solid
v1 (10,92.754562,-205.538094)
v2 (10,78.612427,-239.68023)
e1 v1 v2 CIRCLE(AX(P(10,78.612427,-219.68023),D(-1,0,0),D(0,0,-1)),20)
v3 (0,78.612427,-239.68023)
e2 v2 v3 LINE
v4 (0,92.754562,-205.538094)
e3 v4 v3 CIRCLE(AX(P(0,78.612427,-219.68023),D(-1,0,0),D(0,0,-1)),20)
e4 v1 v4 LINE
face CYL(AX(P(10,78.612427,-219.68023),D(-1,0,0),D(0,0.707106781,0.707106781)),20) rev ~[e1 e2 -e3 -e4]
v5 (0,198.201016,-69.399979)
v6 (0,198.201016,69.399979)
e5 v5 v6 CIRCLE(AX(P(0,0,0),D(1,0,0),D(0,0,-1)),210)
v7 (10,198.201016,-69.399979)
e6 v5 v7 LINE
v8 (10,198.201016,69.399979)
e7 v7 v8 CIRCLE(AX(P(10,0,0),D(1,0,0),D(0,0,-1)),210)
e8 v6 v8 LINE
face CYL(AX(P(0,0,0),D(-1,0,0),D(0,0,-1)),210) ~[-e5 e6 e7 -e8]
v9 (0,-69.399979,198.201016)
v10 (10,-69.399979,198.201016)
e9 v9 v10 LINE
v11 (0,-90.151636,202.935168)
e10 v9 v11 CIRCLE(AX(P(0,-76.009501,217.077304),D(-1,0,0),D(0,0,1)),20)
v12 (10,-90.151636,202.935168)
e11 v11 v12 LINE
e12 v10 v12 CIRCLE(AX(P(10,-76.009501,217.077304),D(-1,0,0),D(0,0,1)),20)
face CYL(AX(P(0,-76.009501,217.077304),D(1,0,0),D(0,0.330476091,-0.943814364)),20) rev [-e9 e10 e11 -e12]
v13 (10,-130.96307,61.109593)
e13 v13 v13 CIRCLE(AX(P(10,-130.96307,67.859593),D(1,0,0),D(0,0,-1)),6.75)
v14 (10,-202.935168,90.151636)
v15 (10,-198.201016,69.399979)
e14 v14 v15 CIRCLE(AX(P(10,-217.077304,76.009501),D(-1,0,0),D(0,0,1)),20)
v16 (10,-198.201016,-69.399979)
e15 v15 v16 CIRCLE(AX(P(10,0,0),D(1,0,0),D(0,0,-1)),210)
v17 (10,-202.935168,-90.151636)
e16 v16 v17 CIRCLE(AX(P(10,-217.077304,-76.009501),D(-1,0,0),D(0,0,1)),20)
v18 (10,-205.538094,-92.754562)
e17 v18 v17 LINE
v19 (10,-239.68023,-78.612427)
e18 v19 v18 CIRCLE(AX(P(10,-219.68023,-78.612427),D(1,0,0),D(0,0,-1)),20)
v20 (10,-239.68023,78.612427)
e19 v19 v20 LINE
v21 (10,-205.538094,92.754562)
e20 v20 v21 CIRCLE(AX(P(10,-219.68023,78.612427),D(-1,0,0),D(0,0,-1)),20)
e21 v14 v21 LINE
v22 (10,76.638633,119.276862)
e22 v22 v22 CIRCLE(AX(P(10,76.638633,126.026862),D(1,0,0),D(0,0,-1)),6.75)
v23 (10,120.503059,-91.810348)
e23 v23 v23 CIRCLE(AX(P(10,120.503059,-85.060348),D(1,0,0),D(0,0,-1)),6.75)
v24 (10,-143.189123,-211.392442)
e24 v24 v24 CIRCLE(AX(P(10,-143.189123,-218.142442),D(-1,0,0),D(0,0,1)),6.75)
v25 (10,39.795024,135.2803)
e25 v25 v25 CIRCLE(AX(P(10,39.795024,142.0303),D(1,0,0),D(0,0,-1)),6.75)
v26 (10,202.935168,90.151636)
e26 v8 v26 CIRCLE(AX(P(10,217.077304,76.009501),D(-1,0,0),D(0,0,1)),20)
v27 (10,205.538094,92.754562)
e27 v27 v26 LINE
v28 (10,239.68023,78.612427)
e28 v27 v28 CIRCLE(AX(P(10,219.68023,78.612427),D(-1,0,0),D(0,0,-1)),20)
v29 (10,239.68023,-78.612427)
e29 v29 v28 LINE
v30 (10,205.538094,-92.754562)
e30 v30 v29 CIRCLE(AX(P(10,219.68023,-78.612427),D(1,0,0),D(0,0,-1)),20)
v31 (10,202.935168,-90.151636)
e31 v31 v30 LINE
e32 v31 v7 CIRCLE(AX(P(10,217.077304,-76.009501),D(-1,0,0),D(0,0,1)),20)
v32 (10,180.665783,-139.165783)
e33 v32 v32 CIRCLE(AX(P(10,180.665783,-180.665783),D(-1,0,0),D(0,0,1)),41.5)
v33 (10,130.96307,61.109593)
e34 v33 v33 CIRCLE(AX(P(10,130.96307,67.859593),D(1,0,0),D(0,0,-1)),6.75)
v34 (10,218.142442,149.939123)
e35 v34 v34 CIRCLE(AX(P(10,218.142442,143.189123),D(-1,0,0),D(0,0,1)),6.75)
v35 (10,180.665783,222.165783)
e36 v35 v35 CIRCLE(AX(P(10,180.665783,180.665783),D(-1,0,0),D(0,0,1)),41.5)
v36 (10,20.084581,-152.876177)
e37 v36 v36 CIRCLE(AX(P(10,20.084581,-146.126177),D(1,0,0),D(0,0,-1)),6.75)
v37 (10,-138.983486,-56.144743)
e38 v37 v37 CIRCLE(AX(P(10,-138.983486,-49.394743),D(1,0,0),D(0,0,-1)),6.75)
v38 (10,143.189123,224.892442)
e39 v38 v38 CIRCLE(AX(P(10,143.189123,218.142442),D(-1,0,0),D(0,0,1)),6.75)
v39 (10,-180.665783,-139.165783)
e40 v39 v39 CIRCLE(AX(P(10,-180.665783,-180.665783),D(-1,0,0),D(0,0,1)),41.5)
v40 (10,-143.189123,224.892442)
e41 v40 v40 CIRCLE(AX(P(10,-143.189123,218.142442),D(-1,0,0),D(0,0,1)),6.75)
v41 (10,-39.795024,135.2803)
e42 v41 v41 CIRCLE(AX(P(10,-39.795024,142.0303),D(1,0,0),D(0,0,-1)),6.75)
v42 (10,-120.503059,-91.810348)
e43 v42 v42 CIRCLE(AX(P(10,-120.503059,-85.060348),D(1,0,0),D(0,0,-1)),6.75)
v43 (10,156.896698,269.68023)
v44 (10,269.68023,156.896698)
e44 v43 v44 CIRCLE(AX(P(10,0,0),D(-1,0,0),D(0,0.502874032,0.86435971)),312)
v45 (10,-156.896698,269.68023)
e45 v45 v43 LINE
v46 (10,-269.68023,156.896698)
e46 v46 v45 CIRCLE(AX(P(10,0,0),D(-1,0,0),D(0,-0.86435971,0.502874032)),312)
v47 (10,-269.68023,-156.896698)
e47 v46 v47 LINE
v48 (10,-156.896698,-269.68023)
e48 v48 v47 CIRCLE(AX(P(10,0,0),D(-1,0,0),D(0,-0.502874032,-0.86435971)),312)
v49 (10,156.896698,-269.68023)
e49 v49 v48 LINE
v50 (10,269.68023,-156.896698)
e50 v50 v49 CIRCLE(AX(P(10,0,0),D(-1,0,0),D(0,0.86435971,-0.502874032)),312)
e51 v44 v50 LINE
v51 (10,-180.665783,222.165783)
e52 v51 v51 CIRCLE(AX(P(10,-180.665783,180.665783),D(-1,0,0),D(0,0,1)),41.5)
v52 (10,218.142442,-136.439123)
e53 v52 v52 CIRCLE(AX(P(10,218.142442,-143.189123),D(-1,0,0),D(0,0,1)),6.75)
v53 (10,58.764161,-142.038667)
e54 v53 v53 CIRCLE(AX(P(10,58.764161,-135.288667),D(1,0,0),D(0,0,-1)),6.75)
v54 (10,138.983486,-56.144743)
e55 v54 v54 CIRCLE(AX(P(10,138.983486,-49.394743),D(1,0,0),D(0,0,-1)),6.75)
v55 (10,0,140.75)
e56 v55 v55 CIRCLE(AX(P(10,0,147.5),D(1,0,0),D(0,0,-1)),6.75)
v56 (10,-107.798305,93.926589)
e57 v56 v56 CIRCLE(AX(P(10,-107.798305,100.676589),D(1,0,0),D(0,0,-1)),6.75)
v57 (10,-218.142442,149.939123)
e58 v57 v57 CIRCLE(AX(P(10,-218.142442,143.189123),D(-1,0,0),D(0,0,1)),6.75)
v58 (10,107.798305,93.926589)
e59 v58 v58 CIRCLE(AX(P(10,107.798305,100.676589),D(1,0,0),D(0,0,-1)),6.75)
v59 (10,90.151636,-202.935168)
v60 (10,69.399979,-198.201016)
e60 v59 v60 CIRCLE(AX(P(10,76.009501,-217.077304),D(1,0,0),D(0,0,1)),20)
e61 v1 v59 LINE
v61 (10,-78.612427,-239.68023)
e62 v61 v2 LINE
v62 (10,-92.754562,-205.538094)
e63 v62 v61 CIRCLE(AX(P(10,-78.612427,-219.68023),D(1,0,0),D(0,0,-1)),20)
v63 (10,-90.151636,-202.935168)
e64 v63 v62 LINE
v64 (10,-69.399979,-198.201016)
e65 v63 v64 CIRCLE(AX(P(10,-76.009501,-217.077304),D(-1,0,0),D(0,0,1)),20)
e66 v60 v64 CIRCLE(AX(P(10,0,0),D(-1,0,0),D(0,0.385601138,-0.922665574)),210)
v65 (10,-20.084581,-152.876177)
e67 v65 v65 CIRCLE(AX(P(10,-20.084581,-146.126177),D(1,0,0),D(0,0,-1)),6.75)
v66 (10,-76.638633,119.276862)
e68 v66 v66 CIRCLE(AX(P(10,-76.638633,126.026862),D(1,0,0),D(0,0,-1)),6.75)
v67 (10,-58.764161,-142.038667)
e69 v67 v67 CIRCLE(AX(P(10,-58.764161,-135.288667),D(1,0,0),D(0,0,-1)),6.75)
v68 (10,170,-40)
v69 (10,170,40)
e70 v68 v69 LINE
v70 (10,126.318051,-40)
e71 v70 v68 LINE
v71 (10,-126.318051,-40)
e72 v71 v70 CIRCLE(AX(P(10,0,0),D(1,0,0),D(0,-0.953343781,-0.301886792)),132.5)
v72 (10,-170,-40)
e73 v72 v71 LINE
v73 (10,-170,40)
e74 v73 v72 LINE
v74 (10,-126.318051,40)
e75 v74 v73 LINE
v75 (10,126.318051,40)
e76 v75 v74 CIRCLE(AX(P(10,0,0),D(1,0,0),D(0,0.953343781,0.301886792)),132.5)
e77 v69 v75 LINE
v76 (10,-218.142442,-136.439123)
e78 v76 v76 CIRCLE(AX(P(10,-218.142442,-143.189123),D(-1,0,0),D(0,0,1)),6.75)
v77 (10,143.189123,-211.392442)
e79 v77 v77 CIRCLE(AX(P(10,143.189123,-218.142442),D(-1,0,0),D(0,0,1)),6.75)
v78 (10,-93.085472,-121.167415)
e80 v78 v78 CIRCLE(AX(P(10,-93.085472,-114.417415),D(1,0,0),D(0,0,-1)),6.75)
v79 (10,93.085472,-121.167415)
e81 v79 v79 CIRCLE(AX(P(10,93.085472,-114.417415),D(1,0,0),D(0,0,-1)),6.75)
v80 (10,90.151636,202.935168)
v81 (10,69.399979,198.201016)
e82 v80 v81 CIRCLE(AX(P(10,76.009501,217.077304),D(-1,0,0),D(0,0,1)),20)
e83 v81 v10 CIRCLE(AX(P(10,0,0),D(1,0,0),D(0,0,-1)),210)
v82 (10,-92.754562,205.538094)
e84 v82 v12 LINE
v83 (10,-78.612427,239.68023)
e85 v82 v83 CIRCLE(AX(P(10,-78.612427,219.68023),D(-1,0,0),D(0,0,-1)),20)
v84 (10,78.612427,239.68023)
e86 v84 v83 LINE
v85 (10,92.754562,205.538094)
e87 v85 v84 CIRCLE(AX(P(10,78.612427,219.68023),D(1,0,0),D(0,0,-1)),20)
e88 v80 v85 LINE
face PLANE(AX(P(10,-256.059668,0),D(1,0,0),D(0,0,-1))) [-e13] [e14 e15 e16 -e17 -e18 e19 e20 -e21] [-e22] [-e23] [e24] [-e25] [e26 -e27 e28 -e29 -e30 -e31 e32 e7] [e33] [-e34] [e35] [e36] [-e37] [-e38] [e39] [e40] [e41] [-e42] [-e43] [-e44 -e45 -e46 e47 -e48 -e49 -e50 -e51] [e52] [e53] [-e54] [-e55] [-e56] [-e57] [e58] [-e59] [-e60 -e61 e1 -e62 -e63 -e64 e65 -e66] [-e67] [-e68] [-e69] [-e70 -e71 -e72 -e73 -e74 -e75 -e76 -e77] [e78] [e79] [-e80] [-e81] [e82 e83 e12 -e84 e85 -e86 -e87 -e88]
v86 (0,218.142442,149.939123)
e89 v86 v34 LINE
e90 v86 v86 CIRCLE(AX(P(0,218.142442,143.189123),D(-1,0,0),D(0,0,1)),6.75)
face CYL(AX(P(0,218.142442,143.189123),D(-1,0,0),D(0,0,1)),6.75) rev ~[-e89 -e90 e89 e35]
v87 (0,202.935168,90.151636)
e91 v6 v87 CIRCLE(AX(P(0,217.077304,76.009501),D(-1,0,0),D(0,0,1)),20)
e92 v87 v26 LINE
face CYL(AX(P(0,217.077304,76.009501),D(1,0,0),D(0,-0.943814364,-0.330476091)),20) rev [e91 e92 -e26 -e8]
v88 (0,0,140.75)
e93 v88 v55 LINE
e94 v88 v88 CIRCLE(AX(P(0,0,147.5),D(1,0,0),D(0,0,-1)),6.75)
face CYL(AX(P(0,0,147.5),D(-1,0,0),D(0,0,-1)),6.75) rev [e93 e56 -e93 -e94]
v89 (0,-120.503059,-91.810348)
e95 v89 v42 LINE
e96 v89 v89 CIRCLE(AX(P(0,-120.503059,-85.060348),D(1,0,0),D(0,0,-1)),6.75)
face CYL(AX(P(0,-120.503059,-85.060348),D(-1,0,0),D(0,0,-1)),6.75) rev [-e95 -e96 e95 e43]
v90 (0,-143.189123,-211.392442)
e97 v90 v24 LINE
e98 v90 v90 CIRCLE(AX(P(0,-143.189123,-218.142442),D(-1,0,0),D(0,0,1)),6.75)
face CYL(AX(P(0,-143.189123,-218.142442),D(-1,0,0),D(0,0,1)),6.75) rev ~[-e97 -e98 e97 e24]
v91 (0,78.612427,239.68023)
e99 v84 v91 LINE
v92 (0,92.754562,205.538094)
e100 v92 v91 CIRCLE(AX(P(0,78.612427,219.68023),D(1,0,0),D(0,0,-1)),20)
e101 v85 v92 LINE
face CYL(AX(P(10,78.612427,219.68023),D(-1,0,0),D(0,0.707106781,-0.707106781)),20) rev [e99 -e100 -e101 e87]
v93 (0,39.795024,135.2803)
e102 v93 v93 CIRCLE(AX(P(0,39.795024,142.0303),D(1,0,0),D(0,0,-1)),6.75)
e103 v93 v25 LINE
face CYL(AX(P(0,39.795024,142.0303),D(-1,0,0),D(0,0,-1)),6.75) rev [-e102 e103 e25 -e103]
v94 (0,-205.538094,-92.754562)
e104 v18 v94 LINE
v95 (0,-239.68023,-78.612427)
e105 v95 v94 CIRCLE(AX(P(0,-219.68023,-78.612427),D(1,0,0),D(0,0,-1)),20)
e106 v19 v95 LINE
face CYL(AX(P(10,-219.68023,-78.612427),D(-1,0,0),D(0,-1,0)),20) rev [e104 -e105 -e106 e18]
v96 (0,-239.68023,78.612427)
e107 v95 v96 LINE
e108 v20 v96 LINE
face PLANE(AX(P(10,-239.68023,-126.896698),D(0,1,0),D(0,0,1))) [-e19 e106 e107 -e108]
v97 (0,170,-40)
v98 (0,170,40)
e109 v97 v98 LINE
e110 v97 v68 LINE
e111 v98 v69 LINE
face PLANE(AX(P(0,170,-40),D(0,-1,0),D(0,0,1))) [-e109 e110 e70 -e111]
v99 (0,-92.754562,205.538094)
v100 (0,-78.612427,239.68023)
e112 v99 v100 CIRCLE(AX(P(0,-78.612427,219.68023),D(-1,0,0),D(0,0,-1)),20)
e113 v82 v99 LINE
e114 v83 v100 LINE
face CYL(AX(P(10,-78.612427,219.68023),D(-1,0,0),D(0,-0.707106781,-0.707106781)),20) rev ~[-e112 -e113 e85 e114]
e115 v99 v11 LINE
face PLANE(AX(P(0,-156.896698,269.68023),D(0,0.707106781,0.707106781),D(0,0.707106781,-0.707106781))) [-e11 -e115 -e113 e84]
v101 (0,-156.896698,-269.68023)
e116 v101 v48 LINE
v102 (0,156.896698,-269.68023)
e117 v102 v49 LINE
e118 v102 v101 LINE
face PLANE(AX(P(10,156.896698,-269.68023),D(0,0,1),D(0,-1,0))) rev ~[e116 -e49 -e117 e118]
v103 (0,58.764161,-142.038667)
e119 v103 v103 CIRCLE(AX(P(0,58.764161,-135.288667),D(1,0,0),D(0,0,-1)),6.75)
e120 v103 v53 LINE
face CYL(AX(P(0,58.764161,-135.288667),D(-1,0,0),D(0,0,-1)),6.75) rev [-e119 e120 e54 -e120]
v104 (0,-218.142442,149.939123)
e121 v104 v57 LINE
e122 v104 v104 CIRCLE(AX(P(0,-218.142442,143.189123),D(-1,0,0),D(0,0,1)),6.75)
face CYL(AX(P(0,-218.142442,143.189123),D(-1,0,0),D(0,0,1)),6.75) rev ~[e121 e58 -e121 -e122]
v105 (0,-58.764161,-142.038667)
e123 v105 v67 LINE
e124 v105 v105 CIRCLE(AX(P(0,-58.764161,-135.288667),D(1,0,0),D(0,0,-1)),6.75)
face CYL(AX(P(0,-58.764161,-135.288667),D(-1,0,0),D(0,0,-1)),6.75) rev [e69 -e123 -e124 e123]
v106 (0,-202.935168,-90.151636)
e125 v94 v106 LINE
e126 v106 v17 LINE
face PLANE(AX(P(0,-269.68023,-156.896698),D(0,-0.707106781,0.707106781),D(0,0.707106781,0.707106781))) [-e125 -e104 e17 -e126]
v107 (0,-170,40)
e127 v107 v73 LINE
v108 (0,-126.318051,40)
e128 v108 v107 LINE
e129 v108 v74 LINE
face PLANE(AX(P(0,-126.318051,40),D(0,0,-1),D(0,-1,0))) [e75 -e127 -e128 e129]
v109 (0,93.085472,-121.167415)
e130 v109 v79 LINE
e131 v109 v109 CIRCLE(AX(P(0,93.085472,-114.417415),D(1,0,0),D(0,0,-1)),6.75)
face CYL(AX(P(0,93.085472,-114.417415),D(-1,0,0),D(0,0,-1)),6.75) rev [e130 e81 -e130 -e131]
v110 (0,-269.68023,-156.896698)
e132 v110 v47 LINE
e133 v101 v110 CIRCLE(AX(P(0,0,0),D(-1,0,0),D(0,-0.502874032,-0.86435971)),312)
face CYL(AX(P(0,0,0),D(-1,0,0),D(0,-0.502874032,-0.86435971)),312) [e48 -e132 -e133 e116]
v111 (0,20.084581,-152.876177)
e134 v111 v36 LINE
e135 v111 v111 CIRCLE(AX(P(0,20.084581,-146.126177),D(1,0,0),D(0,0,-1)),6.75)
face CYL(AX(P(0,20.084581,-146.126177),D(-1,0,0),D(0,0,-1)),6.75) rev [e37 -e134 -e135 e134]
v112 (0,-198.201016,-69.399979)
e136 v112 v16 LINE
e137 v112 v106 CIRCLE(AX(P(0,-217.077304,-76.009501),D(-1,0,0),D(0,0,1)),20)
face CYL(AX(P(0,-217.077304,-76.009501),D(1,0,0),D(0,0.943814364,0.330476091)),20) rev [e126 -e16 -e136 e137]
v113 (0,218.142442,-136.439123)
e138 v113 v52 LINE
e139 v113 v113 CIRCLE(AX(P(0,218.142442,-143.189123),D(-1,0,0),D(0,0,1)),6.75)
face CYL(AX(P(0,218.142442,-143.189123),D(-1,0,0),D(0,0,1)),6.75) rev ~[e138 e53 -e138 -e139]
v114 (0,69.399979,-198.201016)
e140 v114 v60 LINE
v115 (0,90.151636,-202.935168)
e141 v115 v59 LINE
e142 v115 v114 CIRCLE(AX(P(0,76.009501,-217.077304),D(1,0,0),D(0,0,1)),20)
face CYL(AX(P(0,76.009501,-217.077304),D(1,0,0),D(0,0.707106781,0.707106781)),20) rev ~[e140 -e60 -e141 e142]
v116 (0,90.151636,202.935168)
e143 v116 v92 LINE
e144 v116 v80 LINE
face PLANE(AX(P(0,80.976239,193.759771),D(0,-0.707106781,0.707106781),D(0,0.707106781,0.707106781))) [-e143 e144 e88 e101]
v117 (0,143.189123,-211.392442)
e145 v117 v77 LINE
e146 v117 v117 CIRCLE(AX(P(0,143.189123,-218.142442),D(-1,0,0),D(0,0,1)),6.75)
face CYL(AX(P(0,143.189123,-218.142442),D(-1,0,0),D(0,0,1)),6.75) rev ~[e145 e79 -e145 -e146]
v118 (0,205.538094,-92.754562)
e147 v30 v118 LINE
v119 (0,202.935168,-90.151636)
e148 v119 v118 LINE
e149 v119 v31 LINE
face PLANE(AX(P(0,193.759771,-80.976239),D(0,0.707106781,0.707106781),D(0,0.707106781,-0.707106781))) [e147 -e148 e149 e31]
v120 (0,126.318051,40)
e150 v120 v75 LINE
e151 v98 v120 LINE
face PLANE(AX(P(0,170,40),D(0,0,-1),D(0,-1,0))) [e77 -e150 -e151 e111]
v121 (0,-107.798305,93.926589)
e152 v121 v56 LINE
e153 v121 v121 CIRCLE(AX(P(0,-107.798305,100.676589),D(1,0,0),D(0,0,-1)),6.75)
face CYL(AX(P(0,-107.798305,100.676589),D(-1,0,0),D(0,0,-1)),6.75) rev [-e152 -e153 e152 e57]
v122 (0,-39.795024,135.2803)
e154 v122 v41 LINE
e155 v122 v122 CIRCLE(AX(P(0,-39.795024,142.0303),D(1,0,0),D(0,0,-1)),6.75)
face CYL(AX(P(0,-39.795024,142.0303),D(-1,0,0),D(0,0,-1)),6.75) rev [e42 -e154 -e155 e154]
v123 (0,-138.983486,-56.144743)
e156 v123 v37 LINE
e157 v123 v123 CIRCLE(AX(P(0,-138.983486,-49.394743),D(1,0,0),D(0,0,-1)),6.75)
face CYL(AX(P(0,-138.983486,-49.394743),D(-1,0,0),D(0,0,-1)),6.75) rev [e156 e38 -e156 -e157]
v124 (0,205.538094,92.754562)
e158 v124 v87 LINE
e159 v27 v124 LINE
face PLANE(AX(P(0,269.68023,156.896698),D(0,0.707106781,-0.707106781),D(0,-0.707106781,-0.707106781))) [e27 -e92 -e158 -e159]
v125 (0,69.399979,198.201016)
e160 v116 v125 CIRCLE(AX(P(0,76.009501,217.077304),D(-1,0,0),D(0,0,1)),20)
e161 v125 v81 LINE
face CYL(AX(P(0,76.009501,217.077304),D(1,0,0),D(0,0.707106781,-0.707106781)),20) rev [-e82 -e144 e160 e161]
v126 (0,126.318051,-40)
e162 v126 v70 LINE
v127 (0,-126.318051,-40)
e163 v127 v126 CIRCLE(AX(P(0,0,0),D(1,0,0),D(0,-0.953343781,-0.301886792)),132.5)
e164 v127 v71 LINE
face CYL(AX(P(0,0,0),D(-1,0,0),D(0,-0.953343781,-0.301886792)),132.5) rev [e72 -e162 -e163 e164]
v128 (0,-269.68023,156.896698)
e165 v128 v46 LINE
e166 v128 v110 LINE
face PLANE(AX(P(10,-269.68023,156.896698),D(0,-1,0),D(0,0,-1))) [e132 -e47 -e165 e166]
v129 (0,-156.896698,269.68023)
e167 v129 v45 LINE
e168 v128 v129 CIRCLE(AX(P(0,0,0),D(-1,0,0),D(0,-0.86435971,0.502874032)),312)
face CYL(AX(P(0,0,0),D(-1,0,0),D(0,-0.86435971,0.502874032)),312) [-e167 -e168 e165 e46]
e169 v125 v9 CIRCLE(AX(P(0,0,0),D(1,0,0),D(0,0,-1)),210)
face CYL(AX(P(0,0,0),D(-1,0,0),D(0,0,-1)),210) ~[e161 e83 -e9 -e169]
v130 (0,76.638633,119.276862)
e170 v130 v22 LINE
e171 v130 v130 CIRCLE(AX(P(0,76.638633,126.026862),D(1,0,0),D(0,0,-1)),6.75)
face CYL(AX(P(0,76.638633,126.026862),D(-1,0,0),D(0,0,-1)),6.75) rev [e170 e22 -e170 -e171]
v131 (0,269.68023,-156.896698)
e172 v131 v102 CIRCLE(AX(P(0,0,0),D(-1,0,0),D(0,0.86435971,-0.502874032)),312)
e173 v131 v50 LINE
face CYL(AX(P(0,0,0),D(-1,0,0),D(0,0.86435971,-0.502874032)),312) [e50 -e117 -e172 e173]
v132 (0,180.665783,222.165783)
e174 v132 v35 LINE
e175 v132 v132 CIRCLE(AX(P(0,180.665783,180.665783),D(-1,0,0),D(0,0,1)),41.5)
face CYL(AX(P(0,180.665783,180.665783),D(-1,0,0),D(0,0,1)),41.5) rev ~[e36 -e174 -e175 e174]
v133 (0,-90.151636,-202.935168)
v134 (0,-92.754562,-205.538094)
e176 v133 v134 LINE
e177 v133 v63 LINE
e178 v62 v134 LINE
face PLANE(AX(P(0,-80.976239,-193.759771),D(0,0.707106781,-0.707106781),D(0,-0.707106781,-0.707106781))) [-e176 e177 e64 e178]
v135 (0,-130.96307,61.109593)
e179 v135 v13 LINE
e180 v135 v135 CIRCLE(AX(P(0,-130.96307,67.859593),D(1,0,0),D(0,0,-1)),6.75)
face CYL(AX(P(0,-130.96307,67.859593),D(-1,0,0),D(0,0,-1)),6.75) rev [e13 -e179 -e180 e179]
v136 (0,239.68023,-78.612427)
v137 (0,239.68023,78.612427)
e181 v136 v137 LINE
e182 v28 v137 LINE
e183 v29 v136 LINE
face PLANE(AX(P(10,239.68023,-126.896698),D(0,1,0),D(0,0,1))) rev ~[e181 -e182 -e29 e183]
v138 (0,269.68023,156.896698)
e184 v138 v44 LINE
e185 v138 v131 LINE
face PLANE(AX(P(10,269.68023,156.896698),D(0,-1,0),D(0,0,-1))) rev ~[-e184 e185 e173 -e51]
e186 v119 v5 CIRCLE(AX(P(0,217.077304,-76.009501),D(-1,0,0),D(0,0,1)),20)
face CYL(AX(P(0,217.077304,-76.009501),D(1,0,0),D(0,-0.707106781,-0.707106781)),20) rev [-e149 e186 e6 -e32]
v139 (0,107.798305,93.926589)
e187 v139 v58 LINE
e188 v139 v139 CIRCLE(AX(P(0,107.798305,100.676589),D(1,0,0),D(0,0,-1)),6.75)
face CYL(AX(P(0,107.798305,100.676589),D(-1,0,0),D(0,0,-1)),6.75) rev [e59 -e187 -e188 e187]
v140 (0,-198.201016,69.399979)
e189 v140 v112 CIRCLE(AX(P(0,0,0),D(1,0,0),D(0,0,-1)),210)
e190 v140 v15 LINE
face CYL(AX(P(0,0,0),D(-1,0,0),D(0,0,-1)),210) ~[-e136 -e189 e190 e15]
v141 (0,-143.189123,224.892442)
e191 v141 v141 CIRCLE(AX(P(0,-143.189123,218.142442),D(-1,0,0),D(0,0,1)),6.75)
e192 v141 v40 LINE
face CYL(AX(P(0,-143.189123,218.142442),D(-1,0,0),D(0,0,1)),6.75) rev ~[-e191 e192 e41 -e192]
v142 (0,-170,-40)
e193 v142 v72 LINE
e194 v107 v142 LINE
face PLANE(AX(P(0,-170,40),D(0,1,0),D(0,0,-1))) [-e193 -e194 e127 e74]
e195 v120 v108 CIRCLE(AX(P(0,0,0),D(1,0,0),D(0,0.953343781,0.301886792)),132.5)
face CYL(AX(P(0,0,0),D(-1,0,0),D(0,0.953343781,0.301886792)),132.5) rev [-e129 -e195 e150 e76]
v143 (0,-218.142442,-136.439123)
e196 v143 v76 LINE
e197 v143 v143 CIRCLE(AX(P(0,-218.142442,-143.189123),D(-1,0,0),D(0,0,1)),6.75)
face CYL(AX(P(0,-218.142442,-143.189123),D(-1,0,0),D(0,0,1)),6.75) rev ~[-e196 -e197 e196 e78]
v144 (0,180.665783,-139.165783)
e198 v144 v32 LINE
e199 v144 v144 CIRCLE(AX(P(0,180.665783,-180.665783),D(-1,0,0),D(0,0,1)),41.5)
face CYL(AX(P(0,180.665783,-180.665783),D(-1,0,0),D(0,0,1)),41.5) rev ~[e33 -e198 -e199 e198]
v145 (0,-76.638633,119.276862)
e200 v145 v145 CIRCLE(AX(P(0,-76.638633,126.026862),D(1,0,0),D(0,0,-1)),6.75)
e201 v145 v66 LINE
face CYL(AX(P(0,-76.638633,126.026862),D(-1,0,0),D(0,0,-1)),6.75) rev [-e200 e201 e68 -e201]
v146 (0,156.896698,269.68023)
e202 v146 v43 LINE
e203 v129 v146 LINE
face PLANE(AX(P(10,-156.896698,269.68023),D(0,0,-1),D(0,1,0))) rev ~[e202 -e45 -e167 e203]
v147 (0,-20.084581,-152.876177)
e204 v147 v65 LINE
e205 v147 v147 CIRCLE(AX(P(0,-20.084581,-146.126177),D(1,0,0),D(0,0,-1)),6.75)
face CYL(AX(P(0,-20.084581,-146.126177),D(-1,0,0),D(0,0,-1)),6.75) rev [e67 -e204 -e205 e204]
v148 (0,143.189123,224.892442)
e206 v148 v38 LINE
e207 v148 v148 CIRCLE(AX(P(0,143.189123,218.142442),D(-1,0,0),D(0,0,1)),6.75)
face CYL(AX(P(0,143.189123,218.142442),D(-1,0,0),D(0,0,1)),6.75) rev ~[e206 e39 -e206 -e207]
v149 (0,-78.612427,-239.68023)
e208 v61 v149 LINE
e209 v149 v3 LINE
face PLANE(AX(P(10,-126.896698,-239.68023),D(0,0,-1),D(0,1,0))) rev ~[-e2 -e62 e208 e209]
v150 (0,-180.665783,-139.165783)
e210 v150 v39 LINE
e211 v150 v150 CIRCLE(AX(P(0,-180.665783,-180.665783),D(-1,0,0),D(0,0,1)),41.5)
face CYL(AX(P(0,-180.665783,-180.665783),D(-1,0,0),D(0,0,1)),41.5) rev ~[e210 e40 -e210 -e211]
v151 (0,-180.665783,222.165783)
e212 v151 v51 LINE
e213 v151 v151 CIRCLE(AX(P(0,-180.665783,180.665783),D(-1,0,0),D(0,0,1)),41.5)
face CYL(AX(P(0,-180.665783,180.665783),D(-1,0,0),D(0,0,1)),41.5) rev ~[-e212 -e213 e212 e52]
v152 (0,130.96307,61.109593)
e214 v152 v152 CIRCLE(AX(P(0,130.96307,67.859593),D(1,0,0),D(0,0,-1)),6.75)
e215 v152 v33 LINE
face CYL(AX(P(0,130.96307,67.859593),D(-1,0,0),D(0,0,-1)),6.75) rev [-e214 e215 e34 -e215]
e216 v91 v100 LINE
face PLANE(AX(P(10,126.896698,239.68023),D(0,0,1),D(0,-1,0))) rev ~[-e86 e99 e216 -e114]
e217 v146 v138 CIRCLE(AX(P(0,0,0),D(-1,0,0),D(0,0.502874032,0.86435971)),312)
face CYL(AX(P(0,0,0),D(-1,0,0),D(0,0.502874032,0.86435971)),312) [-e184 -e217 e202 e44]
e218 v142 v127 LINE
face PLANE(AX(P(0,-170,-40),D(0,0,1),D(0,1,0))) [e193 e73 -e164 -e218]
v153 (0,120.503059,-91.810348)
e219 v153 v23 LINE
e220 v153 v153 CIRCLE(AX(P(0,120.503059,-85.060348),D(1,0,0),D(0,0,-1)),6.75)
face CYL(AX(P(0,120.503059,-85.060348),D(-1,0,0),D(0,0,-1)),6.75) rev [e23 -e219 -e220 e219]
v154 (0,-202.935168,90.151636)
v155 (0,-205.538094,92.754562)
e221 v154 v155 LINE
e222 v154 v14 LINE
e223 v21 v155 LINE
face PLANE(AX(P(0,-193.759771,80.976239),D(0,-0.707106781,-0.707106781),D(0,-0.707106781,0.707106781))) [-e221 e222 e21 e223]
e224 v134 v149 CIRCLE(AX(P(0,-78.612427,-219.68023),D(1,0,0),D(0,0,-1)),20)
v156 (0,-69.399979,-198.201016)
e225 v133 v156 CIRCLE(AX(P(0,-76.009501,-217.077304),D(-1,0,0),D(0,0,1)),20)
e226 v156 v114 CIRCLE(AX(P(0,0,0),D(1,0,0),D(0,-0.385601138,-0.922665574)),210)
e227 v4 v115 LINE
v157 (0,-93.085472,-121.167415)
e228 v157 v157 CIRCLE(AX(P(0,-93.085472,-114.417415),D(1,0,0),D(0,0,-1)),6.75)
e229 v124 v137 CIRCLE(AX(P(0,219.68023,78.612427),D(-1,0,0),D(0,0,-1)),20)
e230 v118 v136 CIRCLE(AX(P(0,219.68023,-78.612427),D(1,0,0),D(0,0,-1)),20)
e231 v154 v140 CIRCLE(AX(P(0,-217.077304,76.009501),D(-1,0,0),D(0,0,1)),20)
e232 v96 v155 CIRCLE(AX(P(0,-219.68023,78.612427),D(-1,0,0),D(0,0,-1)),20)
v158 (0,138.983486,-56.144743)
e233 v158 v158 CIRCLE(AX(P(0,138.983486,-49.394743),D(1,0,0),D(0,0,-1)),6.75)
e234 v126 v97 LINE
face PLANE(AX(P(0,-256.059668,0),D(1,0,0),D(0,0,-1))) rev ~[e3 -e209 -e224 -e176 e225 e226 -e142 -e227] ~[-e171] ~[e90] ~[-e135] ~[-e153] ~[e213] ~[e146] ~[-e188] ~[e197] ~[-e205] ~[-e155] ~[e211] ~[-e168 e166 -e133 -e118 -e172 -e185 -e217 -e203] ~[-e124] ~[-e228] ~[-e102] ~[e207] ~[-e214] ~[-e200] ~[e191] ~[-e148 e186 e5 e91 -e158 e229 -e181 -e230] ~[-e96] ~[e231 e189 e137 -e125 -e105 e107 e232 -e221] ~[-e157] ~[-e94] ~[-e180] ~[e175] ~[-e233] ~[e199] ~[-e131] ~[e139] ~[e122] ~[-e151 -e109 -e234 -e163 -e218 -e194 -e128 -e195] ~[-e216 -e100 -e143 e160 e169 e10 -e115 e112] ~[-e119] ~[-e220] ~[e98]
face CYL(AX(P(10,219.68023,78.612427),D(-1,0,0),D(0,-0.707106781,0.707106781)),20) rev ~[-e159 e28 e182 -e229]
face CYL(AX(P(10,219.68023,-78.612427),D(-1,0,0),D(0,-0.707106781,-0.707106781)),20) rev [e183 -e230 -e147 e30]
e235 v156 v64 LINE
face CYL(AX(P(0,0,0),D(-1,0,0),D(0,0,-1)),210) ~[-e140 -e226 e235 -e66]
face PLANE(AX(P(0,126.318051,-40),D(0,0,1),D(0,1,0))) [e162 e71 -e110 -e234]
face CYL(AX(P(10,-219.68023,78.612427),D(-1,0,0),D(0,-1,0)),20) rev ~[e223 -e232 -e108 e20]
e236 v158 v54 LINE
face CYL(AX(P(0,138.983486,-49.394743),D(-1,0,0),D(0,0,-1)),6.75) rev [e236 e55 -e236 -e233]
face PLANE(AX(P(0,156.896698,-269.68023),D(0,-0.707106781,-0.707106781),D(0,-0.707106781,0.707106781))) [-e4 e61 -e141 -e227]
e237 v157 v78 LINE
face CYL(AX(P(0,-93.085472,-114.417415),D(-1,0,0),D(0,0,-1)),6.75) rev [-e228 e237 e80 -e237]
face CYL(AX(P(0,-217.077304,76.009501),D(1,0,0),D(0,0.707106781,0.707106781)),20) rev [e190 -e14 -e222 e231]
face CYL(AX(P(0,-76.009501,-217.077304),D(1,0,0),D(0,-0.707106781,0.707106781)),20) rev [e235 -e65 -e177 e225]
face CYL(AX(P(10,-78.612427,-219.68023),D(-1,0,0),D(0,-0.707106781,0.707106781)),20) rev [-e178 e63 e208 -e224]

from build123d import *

# Parameters (mm, degrees)
ESQUISSE1_R        = 210
ESQUISSE1_R_2      = 6.75
BOSS_EXTRU_1_DEPTH = 10
ESQUISSE2_R        = 41.5
ESQUISSE2_R_2      = 6.75
BOSS_EXTRU_2_DEPTH = 10
BOSS_EXTRU_3_DEPTH = 10
CONG_1_R           = 20


with BuildPart() as part:
    # Esquisse1 → Boss.-Extru.1 (new body)
    with BuildSketch(Plane(origin=(0, 0, 0), x_dir=(0, 0, -1), z_dir=(1, 0, 0))):
        Circle(ESQUISSE1_R)
        with Locations((-147.5, 0)):
            Circle(ESQUISSE1_R_2, mode=Mode.SUBTRACT)
        with Locations((-142.030299884, 39.795023746)):
            Circle(ESQUISSE1_R_2, mode=Mode.SUBTRACT)
        with Locations((-126.026862171, 76.63863263)):
            Circle(ESQUISSE1_R_2, mode=Mode.SUBTRACT)
        with Locations((-100.676588625, 107.798304731)):
            Circle(ESQUISSE1_R_2, mode=Mode.SUBTRACT)
        with Locations((-67.859593065, 130.963069714)):
            Circle(ESQUISSE1_R_2, mode=Mode.SUBTRACT)
        with Locations((49.394742795, 138.983486013)):
            Circle(ESQUISSE1_R_2, mode=Mode.SUBTRACT)
        with Locations((85.060347512, 120.503059219)):
            Circle(ESQUISSE1_R_2, mode=Mode.SUBTRACT)
        with Locations((114.417415379, 93.085471788)):
            Circle(ESQUISSE1_R_2, mode=Mode.SUBTRACT)
        with Locations((135.288666972, 58.764160752)):
            Circle(ESQUISSE1_R_2, mode=Mode.SUBTRACT)
        with Locations((146.12617704, 20.084580742)):
            Circle(ESQUISSE1_R_2, mode=Mode.SUBTRACT)
        with Locations((146.12617704, -20.084580742)):
            Circle(ESQUISSE1_R_2, mode=Mode.SUBTRACT)
        with Locations((135.288666972, -58.764160752)):
            Circle(ESQUISSE1_R_2, mode=Mode.SUBTRACT)
        with Locations((114.417415379, -93.085471788)):
            Circle(ESQUISSE1_R_2, mode=Mode.SUBTRACT)
        with Locations((85.060347512, -120.503059219)):
            Circle(ESQUISSE1_R_2, mode=Mode.SUBTRACT)
        with Locations((49.394742795, -138.983486013)):
            Circle(ESQUISSE1_R_2, mode=Mode.SUBTRACT)
        with Locations((-67.859593065, -130.963069714)):
            Circle(ESQUISSE1_R_2, mode=Mode.SUBTRACT)
        with Locations((-100.676588625, -107.798304731)):
            Circle(ESQUISSE1_R_2, mode=Mode.SUBTRACT)
        with Locations((-126.026862171, -76.63863263)):
            Circle(ESQUISSE1_R_2, mode=Mode.SUBTRACT)
        with Locations((-142.030299884, -39.795023746)):
            Circle(ESQUISSE1_R_2, mode=Mode.SUBTRACT)
        with BuildLine():
            Line((40, -130), (40, -126.318050967))
            ThreePointArc((40, -126.318050967), (132.5, 0), (40, 126.318050967))
            Line((40, 126.318050967), (40, 130))
            Line((40, 130), (40, 170))
            Line((40, 170), (-40, 170))
            Line((-40, 170), (-40, 130))
            Line((-40, 130), (-40, 126.318050967))
            ThreePointArc((-40, 126.318050967), (-132.5, 0), (-40, -126.318050967))
            Line((-40, -126.318050967), (-40, -130))
            Line((-40, -130), (-40, -170))
            Line((-40, -170), (40, -170))
            Line((40, -170), (40, -130))
        make_face(mode=Mode.SUBTRACT)
    extrude(amount=BOSS_EXTRU_1_DEPTH)

    # Esquisse2 → Boss.-Extru.2 (add)
    # profile 1 of 4: a face of its own
    with BuildSketch(Plane.ZY):
        with BuildLine():
            Line((-156.896697906, -269.680229505), (-80.976239027, -193.759770626))
            ThreePointArc((-80.976239027, -193.759770626), (-148.492424049, -148.492424049), (-193.759770626, -80.976239027))
            Line((-193.759770626, -80.976239027), (-269.680229505, -156.896697906))
            ThreePointArc((-269.680229505, -156.896697906), (-220.61731573, -220.61731573), (-156.896697906, -269.680229505))
        make_face()
        with Locations((-180.665782593, -180.665782593)):
            Circle(ESQUISSE2_R, mode=Mode.SUBTRACT)
        with Locations((-143.18912319, -218.142441996)):
            Circle(ESQUISSE2_R_2, mode=Mode.SUBTRACT)
        with Locations((-218.142441996, -143.18912319)):
            Circle(ESQUISSE2_R_2, mode=Mode.SUBTRACT)
    # profile 2 of 4: a face of its own
    with BuildSketch(Plane.ZY):
        with BuildLine():
            Line((80.976239027, -193.759770626), (156.896697906, -269.680229505))
            ThreePointArc((156.896697906, -269.680229505), (220.61731573, -220.61731573), (269.680229505, -156.896697906))
            Line((269.680229505, -156.896697906), (193.759770626, -80.976239027))
            ThreePointArc((193.759770626, -80.976239027), (148.492424049, -148.492424049), (80.976239027, -193.759770626))
        make_face()
        with Locations((143.18912319, -218.142441996)):
            Circle(ESQUISSE2_R_2, mode=Mode.SUBTRACT)
        with Locations((180.665782593, -180.665782593)):
            Circle(ESQUISSE2_R, mode=Mode.SUBTRACT)
        with Locations((218.142441996, -143.18912319)):
            Circle(ESQUISSE2_R_2, mode=Mode.SUBTRACT)
    # profile 3 of 4: a face of its own
    with BuildSketch(Plane.ZY):
        with BuildLine():
            Line((-269.680229505, 156.896697906), (-193.759770626, 80.976239027))
            ThreePointArc((-193.759770626, 80.976239027), (-148.492424049, 148.492424049), (-80.976239027, 193.759770626))
            Line((-80.976239027, 193.759770626), (-156.896697906, 269.680229505))
            ThreePointArc((-156.896697906, 269.680229505), (-220.61731573, 220.61731573), (-269.680229505, 156.896697906))
        make_face()
        with Locations((-218.142441996, 143.18912319)):
            Circle(ESQUISSE2_R_2, mode=Mode.SUBTRACT)
        with Locations((-180.665782593, 180.665782593)):
            Circle(ESQUISSE2_R, mode=Mode.SUBTRACT)
        with Locations((-143.18912319, 218.142441996)):
            Circle(ESQUISSE2_R_2, mode=Mode.SUBTRACT)
    # profile 4 of 4: a face of its own
    with BuildSketch(Plane.ZY):
        with BuildLine():
            ThreePointArc((269.680229505, 156.896697906), (220.61731573, 220.61731573), (156.896697906, 269.680229505))
            Line((156.896697906, 269.680229505), (80.976239027, 193.759770626))
            ThreePointArc((80.976239027, 193.759770626), (148.492424049, 148.492424049), (193.759770626, 80.976239027))
            Line((193.759770626, 80.976239027), (269.680229505, 156.896697906))
        make_face()
        with Locations((218.142441996, 143.18912319)):
            Circle(ESQUISSE2_R_2, mode=Mode.SUBTRACT)
        with Locations((143.18912319, 218.142441996)):
            Circle(ESQUISSE2_R_2, mode=Mode.SUBTRACT)
        with Locations((180.665782593, 180.665782593)):
            Circle(ESQUISSE2_R, mode=Mode.SUBTRACT)
    extrude(amount=-BOSS_EXTRU_2_DEPTH)

    # Esquisse3 → Boss.-Extru.3 (add)
    with BuildSketch(Plane(origin=(10, 0, 0), x_dir=(0, 0, -1), z_dir=(1, 0, 0))):
        Polygon((-156.896697906, -269.680229505), (156.896697906, -269.680229505), (126.896697906, -239.680229505), (-126.896697906, -239.680229505), align=None)
        Polygon((-269.680229505, -156.896697906), (-269.680229505, 156.896697906), (-239.680229505, 126.896697906), (-239.680229505, -126.896697906), align=None)
        Polygon((-156.896697906, 269.680229505), (156.896697906, 269.680229505), (126.896697906, 239.680229505), (-126.896697906, 239.680229505), align=None)
        Polygon((269.680229505, 156.896697906), (269.680229505, -156.896697906), (239.680229505, -126.896697906), (239.680229505, 126.896697906), align=None)
    extrude(amount=-BOSS_EXTRU_3_DEPTH)

    # Congé1
    cong_1_edges = [part.edges().sort_by_distance(p)[0] for p in [
        (5, -193.759770626, 80.976239027),
        (5, -80.976239027, 193.759770626),
        (5, 80.976239027, 193.759770626),
        (5, 193.759770626, 80.976239027),
        (5, 193.759770626, -80.976239027),
        (5, 80.976239027, -193.759770626),
        (5, -80.976239027, -193.759770626),
        (5, -193.759770626, -80.976239027),
        (5, -239.680229505, 126.896697906),
        (5, -239.680229505, -126.896697906),
        (5, -126.896697906, 239.680229505),
        (5, 126.896697906, 239.680229505),
        (5, 239.680229505, 126.896697906),
        (5, 239.680229505, -126.896697906),
        (5, 126.896697906, -239.680229505),
        (5, -126.896697906, -239.680229505),
    ]]
    fillet(cong_1_edges, radius=CONG_1_R)


solid = part.part
